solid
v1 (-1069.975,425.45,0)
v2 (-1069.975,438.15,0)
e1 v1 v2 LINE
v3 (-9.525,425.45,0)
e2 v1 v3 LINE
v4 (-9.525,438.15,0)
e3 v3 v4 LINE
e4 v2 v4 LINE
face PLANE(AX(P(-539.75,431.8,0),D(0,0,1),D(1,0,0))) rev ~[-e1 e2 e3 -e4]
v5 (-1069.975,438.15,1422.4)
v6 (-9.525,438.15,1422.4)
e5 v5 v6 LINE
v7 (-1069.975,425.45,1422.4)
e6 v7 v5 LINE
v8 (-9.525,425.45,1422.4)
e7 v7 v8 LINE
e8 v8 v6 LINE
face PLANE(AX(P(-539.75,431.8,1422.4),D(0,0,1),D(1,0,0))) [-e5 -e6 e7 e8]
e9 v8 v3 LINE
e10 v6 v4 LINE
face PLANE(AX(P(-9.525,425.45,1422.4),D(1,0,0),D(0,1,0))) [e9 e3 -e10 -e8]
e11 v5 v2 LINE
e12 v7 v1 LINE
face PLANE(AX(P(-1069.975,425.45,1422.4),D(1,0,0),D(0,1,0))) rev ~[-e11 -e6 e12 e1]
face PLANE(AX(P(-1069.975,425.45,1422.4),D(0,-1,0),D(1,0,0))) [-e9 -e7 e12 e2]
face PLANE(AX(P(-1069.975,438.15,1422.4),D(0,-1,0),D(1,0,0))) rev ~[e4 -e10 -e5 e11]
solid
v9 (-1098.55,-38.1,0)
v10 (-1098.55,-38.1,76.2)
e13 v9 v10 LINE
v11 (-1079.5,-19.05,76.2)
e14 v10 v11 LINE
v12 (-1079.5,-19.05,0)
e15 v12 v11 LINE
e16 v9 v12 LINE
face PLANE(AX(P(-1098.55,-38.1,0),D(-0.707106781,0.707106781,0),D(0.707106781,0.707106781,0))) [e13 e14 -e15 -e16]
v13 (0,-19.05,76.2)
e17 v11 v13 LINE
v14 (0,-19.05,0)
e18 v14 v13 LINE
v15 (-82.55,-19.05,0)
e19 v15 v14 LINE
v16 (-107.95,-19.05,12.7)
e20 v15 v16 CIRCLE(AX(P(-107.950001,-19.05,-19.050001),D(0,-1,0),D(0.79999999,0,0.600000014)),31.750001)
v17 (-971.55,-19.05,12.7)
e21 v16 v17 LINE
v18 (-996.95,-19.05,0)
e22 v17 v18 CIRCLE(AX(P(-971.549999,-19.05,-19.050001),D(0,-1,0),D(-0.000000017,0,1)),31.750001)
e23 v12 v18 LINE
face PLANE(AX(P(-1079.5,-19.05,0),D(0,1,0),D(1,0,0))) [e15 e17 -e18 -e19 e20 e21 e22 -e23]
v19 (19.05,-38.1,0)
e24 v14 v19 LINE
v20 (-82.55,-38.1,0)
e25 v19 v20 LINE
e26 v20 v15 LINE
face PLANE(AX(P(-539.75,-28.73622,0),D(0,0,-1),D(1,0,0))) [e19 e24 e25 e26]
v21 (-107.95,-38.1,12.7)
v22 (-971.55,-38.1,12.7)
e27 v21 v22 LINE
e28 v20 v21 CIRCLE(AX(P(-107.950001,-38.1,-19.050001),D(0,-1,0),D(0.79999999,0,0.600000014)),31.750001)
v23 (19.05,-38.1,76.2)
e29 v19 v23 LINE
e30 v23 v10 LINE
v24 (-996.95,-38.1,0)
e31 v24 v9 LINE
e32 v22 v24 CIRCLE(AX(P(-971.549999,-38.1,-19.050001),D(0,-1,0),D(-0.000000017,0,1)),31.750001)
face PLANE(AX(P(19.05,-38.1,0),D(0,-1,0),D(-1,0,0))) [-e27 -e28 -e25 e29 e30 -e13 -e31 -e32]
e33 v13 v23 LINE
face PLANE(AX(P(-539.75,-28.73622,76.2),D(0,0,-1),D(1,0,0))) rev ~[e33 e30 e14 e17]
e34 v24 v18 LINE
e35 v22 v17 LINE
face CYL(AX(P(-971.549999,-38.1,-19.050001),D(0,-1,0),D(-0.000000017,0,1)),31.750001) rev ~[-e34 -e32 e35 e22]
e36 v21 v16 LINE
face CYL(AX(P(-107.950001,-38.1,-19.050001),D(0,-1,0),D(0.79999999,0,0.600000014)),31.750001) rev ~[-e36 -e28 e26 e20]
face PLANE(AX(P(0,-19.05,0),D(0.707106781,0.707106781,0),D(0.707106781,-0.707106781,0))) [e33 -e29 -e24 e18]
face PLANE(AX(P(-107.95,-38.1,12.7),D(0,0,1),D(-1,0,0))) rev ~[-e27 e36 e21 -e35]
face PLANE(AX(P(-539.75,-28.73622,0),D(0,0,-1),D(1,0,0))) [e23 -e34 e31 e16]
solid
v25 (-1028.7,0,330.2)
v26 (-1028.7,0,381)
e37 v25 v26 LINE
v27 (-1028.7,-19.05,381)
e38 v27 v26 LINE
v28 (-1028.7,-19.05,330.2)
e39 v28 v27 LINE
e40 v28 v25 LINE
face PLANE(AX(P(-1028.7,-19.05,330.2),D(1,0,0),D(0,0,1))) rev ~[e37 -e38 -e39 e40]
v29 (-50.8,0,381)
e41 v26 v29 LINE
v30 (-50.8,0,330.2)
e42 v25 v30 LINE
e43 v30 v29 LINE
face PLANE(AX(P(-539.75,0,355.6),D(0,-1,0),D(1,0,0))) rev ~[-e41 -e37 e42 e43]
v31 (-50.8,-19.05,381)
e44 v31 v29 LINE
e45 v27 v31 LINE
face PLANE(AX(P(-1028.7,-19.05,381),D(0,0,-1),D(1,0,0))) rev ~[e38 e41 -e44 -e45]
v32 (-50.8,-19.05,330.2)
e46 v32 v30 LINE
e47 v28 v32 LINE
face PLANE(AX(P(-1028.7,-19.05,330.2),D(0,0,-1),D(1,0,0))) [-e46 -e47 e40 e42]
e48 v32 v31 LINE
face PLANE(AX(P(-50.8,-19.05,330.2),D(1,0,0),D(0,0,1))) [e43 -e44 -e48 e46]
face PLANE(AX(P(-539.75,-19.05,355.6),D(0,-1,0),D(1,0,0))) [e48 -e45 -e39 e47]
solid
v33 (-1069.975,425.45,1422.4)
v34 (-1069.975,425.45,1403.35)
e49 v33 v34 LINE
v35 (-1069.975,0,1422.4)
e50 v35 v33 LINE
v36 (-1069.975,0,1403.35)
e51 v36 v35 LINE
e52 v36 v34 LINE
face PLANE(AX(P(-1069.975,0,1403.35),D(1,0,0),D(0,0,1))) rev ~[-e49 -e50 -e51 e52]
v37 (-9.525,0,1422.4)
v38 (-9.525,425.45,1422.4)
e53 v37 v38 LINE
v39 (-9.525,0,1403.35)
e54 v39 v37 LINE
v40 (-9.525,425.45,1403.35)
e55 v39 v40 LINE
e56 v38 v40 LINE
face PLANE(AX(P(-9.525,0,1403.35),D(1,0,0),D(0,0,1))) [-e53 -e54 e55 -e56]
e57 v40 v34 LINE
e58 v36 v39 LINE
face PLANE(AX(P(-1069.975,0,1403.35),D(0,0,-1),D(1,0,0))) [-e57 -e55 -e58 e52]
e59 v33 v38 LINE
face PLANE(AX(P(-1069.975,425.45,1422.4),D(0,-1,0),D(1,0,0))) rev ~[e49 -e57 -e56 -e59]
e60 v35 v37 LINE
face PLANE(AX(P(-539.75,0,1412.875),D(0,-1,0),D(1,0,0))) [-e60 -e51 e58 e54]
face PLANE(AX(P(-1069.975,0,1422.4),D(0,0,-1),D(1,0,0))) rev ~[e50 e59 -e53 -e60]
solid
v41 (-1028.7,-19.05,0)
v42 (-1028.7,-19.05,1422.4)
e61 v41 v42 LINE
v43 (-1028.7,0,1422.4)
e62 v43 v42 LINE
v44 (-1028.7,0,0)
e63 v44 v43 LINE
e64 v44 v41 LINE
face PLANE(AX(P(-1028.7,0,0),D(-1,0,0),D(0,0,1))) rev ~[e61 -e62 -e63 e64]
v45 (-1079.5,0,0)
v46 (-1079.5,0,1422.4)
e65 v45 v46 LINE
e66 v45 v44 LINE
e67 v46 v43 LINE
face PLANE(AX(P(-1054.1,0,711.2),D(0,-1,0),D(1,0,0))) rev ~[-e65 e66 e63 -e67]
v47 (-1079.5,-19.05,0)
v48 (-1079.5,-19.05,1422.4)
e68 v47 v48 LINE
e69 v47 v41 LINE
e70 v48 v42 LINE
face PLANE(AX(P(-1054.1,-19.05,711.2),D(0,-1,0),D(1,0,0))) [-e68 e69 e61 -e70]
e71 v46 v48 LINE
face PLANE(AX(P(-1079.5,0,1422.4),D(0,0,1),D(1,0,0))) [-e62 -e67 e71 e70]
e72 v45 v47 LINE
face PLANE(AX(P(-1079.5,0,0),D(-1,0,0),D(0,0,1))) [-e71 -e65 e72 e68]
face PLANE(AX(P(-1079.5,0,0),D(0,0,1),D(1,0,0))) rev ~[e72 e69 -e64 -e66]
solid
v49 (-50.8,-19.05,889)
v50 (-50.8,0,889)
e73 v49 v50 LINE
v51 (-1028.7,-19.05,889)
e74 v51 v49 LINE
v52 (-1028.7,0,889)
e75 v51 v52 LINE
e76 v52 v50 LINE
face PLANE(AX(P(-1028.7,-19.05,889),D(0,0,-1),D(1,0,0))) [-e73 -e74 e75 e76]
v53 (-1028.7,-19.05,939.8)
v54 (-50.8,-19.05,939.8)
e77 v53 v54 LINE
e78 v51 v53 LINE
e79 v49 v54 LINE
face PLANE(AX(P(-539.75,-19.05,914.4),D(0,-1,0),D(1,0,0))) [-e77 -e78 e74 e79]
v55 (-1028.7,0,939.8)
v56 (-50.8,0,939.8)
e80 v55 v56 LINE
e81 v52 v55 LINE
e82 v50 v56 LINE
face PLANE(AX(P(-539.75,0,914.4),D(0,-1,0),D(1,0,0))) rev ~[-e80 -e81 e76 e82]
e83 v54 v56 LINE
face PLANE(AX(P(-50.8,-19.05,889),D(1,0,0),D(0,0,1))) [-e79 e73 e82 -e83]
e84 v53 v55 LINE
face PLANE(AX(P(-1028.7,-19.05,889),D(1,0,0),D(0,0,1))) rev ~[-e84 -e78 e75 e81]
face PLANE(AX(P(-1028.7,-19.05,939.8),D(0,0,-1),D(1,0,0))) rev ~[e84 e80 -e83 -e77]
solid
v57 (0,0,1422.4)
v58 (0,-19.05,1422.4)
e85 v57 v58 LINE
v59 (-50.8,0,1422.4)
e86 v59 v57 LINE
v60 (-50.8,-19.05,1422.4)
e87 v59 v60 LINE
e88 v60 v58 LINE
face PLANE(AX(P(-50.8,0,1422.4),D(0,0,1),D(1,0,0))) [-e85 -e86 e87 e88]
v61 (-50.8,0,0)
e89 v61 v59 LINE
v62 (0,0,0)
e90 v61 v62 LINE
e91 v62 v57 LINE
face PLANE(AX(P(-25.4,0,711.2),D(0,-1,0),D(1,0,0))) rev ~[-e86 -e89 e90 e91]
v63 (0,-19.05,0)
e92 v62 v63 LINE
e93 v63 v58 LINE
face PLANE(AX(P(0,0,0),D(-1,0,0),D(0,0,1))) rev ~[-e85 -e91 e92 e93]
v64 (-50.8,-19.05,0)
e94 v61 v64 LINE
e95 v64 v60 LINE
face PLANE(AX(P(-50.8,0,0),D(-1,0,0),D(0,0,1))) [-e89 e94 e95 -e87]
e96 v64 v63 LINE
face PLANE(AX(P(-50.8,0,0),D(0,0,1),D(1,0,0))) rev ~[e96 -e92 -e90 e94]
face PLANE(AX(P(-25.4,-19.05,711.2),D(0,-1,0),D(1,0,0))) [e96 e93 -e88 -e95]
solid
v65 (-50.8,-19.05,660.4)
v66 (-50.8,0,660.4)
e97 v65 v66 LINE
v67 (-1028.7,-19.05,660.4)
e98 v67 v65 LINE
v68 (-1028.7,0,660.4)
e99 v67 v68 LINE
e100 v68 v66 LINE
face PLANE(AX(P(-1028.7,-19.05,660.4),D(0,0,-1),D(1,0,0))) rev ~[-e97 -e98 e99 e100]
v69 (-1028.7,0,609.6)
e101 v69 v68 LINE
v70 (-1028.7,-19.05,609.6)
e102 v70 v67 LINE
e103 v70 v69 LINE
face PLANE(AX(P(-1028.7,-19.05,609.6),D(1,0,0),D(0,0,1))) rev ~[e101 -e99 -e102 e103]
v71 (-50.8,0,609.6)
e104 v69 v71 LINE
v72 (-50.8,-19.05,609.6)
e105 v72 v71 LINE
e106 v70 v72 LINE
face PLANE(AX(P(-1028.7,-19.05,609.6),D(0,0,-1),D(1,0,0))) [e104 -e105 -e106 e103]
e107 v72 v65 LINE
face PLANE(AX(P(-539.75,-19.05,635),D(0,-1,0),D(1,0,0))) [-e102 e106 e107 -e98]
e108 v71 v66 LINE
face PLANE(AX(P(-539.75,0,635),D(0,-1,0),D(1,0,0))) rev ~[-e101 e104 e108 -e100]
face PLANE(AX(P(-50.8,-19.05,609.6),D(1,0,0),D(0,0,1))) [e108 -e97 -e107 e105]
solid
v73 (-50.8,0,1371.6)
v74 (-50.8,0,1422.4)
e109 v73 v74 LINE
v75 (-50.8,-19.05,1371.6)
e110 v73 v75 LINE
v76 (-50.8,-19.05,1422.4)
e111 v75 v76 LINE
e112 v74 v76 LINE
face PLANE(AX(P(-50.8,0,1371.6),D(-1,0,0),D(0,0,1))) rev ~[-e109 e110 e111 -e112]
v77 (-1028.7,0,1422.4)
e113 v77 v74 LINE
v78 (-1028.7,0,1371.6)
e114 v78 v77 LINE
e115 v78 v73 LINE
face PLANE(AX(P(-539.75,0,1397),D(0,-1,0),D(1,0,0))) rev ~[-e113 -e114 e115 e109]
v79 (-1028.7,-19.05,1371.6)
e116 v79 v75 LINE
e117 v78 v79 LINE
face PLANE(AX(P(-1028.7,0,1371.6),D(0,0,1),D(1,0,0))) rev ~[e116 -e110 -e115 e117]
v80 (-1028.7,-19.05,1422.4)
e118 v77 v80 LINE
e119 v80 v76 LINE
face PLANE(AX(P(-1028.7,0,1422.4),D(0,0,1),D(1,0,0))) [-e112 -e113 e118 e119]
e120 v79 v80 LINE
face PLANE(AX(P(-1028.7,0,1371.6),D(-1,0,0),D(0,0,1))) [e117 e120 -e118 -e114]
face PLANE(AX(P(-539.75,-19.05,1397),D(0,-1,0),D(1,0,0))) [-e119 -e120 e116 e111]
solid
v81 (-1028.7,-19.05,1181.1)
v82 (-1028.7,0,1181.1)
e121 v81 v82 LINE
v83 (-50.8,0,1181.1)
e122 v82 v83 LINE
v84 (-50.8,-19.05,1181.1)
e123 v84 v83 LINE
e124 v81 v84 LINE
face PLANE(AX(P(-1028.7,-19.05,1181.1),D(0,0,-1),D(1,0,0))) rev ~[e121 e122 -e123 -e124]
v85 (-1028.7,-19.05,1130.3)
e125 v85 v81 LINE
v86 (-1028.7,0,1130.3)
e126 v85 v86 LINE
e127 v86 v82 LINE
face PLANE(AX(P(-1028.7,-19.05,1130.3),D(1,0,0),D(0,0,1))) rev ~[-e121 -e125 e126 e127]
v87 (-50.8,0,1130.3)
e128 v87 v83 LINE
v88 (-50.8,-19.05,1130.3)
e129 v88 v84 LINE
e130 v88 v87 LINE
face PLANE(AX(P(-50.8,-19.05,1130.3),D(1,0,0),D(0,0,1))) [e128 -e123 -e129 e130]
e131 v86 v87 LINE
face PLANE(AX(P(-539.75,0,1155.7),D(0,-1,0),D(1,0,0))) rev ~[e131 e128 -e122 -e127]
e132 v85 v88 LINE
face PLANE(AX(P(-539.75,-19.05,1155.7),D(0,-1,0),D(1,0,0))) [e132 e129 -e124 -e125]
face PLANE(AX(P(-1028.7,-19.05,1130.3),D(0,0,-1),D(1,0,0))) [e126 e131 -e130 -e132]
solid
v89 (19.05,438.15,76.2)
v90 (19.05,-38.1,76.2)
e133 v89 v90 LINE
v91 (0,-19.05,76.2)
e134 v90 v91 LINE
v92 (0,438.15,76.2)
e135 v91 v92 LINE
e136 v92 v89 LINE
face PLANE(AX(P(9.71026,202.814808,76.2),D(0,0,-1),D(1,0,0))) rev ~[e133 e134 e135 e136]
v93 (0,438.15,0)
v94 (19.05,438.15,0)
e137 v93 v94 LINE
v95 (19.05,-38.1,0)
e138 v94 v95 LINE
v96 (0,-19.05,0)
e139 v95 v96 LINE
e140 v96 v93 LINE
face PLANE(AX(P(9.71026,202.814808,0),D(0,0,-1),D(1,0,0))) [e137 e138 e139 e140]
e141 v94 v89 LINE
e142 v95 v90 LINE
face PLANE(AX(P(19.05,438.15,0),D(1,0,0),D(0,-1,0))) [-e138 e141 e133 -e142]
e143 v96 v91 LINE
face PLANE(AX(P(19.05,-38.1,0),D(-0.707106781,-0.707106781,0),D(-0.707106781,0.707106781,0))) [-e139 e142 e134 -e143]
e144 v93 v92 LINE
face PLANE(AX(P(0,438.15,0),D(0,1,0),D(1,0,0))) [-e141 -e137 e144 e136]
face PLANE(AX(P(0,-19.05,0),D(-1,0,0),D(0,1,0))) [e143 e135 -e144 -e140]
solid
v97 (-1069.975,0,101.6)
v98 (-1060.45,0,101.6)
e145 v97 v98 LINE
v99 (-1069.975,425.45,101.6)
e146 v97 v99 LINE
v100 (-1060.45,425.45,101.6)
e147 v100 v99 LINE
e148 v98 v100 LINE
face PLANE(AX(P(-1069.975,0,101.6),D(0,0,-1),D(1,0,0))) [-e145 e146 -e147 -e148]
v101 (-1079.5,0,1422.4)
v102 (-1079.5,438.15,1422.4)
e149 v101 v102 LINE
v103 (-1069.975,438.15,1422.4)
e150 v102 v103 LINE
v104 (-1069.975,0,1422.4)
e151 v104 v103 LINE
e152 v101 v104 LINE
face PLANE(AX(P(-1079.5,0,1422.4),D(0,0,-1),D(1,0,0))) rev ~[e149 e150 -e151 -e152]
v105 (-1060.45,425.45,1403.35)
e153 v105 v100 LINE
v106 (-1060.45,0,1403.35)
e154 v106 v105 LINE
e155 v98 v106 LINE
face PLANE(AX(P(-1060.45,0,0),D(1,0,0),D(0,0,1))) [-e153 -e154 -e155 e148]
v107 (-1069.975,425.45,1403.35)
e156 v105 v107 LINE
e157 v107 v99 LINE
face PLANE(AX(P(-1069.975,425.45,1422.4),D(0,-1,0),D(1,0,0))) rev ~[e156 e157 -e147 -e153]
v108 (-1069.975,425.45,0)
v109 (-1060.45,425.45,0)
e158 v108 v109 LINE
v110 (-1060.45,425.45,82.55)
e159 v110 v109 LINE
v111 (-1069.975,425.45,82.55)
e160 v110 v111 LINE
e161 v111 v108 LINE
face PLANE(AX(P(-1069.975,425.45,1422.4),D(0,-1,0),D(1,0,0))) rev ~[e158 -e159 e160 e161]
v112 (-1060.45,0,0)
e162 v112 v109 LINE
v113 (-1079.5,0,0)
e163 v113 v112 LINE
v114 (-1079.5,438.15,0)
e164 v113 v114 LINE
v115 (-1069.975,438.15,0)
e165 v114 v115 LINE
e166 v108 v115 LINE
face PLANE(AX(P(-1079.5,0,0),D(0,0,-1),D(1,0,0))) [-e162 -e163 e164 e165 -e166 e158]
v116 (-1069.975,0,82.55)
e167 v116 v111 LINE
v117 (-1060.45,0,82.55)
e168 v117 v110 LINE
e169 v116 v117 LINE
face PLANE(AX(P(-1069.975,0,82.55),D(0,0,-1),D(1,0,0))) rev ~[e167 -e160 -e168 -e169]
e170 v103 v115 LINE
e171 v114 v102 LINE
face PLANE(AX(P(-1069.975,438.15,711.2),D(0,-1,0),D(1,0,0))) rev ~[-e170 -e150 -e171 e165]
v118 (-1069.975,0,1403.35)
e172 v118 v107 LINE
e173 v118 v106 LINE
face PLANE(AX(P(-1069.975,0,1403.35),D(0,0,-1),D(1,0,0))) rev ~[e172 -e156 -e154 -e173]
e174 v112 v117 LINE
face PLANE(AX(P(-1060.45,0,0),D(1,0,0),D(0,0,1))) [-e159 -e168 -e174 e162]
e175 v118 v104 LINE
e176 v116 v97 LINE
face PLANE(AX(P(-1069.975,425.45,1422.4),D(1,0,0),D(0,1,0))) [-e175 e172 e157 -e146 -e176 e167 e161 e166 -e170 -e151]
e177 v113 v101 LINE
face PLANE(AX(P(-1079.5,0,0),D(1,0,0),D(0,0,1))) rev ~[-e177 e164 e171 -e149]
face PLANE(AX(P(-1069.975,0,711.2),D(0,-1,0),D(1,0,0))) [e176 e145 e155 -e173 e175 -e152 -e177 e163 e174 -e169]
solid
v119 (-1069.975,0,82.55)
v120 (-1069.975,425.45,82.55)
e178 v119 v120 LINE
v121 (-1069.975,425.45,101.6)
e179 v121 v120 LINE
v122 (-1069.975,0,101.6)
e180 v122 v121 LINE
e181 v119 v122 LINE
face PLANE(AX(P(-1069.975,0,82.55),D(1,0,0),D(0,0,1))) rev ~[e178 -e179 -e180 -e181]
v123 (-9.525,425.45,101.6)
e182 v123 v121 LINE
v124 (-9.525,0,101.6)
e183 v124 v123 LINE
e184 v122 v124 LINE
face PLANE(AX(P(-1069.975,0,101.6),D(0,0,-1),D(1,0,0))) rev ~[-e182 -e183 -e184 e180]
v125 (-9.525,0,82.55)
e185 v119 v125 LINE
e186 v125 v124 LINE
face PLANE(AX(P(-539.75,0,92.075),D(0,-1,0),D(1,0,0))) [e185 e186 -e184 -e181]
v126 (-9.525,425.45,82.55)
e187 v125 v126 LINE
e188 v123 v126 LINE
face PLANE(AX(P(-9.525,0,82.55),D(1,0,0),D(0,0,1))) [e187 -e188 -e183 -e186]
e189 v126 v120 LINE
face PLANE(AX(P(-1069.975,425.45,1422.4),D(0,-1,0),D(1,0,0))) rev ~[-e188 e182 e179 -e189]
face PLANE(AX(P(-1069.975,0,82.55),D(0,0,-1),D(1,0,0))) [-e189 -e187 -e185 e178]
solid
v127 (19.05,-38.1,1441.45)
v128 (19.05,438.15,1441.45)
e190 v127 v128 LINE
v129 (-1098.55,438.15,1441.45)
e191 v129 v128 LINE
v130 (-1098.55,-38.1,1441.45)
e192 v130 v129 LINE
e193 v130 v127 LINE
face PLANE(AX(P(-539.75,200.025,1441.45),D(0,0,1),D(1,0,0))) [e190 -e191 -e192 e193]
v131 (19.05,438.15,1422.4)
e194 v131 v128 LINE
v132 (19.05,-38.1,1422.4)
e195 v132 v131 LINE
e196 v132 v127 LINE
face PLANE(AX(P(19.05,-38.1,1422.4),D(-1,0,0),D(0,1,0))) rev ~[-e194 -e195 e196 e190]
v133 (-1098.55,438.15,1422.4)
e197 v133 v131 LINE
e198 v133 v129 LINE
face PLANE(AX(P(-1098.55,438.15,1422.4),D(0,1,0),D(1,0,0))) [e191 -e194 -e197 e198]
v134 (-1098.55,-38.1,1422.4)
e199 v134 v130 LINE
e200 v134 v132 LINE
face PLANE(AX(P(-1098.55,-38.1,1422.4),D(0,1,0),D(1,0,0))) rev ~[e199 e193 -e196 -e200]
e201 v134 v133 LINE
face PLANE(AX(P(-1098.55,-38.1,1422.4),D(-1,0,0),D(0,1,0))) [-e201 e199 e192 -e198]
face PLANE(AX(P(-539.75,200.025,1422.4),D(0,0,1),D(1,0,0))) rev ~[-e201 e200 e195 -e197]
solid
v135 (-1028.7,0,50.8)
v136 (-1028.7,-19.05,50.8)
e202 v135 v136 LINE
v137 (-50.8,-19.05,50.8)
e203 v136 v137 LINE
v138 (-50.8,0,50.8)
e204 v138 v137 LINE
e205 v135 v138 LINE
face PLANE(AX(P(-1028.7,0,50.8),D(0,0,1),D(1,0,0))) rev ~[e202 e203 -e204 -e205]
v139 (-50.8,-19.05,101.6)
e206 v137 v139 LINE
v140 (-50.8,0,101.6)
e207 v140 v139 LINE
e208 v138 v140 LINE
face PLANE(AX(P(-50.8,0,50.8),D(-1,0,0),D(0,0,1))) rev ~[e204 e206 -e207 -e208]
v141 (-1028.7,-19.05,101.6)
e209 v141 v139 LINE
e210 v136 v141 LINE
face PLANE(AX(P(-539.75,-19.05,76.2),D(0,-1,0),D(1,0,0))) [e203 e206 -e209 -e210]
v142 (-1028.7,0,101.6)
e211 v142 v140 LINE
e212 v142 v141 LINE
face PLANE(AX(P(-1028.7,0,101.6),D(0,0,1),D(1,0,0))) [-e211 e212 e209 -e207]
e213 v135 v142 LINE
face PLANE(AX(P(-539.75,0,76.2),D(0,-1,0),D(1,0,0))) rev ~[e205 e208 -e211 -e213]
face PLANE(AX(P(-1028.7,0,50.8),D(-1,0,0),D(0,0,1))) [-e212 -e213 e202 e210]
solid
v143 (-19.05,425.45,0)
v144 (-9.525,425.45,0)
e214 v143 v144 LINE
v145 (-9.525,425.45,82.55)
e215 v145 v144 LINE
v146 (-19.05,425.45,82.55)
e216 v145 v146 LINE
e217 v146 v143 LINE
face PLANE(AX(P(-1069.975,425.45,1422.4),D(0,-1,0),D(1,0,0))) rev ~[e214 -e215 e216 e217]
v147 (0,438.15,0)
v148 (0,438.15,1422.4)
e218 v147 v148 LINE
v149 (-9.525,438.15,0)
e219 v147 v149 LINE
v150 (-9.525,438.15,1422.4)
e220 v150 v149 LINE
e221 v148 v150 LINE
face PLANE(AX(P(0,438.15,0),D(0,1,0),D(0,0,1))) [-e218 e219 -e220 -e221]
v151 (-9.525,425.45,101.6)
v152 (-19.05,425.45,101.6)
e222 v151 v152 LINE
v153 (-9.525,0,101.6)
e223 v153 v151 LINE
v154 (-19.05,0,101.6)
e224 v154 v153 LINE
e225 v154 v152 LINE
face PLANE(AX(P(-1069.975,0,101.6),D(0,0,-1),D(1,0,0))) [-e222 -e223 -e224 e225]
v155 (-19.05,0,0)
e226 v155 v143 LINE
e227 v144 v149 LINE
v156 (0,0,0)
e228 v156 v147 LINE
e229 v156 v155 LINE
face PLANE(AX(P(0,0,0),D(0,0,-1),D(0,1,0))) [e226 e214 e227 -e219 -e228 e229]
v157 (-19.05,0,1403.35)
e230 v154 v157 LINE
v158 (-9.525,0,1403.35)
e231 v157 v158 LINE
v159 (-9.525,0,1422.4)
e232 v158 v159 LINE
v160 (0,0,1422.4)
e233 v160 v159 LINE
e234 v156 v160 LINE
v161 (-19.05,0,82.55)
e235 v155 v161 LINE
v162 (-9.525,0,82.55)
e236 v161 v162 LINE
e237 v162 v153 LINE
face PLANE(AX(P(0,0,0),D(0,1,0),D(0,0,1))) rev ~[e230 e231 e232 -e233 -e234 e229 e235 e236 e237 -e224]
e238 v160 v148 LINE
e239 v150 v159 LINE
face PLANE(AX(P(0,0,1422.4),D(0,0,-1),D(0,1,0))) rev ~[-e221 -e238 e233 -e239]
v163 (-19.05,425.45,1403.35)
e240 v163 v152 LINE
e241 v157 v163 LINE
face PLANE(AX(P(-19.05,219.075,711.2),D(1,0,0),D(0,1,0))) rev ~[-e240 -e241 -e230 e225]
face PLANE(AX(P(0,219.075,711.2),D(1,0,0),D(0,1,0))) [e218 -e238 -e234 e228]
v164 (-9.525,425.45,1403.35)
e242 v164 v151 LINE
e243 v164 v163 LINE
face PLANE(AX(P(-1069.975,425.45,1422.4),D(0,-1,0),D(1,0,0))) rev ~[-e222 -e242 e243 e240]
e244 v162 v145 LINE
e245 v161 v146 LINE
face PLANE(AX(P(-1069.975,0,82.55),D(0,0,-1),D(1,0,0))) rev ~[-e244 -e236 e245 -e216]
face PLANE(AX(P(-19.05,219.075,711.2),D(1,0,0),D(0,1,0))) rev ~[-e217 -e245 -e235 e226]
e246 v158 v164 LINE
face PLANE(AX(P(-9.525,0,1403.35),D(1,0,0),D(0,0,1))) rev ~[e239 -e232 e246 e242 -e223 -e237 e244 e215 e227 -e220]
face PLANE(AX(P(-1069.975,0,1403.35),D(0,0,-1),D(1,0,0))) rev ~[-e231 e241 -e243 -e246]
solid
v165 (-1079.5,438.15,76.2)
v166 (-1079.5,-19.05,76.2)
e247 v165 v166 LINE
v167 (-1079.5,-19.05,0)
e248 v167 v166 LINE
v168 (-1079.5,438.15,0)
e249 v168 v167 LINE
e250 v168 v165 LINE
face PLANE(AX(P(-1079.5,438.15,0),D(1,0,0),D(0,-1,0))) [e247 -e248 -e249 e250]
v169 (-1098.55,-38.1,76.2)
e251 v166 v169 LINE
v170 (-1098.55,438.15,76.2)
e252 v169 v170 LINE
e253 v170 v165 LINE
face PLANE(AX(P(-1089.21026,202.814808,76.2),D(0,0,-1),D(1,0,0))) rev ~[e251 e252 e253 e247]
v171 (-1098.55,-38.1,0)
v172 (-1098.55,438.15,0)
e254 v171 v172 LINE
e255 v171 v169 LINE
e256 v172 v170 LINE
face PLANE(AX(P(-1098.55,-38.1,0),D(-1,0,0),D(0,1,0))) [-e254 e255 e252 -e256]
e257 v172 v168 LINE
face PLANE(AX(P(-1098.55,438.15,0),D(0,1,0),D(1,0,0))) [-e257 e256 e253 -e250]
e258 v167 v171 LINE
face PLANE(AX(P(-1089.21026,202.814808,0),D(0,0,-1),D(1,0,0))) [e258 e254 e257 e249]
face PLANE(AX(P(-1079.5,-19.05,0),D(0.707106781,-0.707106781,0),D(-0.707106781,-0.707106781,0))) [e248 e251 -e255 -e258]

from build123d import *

# Parameters (mm, degrees)
F0_W      = 438.15
F0_H      = 1422.4
F1_DEPTH  = 19.05
F2_W      = 1060.45
F2_H      = 19.05
F3_DEPTH  = 438.15
F5_W      = 19.05
F5_H      = 1422.4
F6_DEPTH  = 438.15
F8_W      = 1060.45
F8_H      = 19.05
F9_DEPTH  = 438.15
F11_W     = 1060.45
F11_H     = 12.7
F12_DEPTH = 1422.4
F14_W     = 50.8
F14_H     = 1422.4
F15_DEPTH = 19.05
F16_W     = 50.8
F16_H     = 1422.4
F17_DEPTH = 19.05
F18_W     = 977.9
F18_H     = 50.8
F19_DEPTH = 19.05
F20_W     = 977.9
F20_H     = 50.8
F21_DEPTH = 19.05
F22_W     = 977.9
F22_H     = 50.8
F23_DEPTH = 19.05
F24_W     = 977.9
F24_H     = 50.8
F25_DEPTH = 19.05
F26_W     = 977.9
F26_H     = 50.8
F27_DEPTH = 19.05
F28_W     = 977.9
F28_H     = 50.8
F29_DEPTH = 19.05
F30_W     = 1117.6
F30_H     = 476.25
F31_DEPTH = 19.05
F33_DEPTH = 76.2
F35_DEPTH = 76.2
F37_DEPTH = 76.2
F39_DEPTH = 19.05


with BuildPart() as f1:
    # F0 (on Right) → F1 (new body)
    with BuildSketch(Plane.YZ):
        with Locations((219.075, 711.2)):
            Rectangle(F0_W, F0_H)
    extrude(amount=-F1_DEPTH)


with BuildPart() as f3:
    # F2 (on face) → F3 (new body)
    with BuildSketch(Plane.XZ):
        with Locations((-539.75, 92.075)):
            Rectangle(F2_W, F2_H)
    extrude(amount=-F3_DEPTH)


with BuildPart() as f1_1:
    add(f1.part)

    # F4: cut F3
    add(f3.part, mode=Mode.SUBTRACT)


with BuildPart() as f6:
    # F5 (on face) → F6 (new body)
    with BuildSketch(Plane.XZ):
        with Locations((-1069.975, 711.2)):
            Rectangle(F5_W, F5_H)
    extrude(amount=-F6_DEPTH)

    # F7: cut F3
    add(f3.part, mode=Mode.SUBTRACT)


with BuildPart() as f9:
    # F8 (on face) → F9 (new body)
    with BuildSketch(Plane.XZ):
        with Locations((-539.75, 1412.875)):
            Rectangle(F8_W, F8_H)
    extrude(amount=-F9_DEPTH)


with BuildPart() as f6_1:
    add(f6.part)

    # F10: cut F9
    add(f9.part, mode=Mode.SUBTRACT)


with BuildPart() as f1_2:
    add(f1_1.part)

    # F10: cut F9
    add(f9.part, mode=Mode.SUBTRACT)


with BuildPart() as f12:
    # F11 (on face) → F12 (new body)
    with BuildSketch(Plane.XY.offset(1422.4)):
        with Locations((-539.75, 431.8)):
            Rectangle(F11_W, F11_H)
    extrude(amount=-F12_DEPTH)


with BuildPart() as f6_2:
    add(f6_1.part)

    # F13: cut F12
    add(f12.part, mode=Mode.SUBTRACT)


with BuildPart() as f9_1:
    add(f9.part)

    # F13: cut F12
    add(f12.part, mode=Mode.SUBTRACT)


with BuildPart() as f1_3:
    add(f1_2.part)

    # F13: cut F12
    add(f12.part, mode=Mode.SUBTRACT)


with BuildPart() as f3_1:
    add(f3.part)

    # F13: cut F12
    add(f12.part, mode=Mode.SUBTRACT)


with BuildPart() as f15:
    # F14 (on face) → F15 (new body)
    with BuildSketch(Plane.XZ):
        with Locations((-1054.1, 711.2)):
            Rectangle(F14_W, F14_H)
    extrude(amount=F15_DEPTH)


with BuildPart() as f17:
    # F16 (on face) → F17 (new body)
    with BuildSketch(Plane.XZ):
        with Locations((-25.4, 711.2)):
            Rectangle(F16_W, F16_H)
    extrude(amount=F17_DEPTH)


with BuildPart() as f19:
    # F18 (on face) → F19 (new body)
    with BuildSketch(Plane.XZ):
        with Locations((-539.75, 76.2)):
            Rectangle(F18_W, F18_H)
    extrude(amount=F19_DEPTH)


with BuildPart() as f21:
    # F20 (on face) → F21 (new body)
    with BuildSketch(Plane.XZ):
        with Locations((-539.75, 1397)):
            Rectangle(F20_W, F20_H)
    extrude(amount=F21_DEPTH)


with BuildPart() as f23:
    # F22 (on face) → F23 (new body)
    with BuildSketch(Plane.XZ.offset(19.05)):
        with Locations((-539.75, 355.6)):
            Rectangle(F22_W, F22_H)
    extrude(amount=-F23_DEPTH)


with BuildPart() as f25:
    # F24 (on face) → F25 (new body)
    with BuildSketch(Plane.XZ.offset(19.05)):
        with Locations((-539.75, 635)):
            Rectangle(F24_W, F24_H)
    extrude(amount=-F25_DEPTH)


with BuildPart() as f27:
    # F26 (on face) → F27 (new body)
    with BuildSketch(Plane.XZ.offset(19.05)):
        with Locations((-539.75, 914.4)):
            Rectangle(F26_W, F26_H)
    extrude(amount=-F27_DEPTH)


with BuildPart() as f29:
    # F28 (on face) → F29 (new body)
    with BuildSketch(Plane.XZ.offset(19.05)):
        with Locations((-539.75, 1155.7)):
            Rectangle(F28_W, F28_H)
    extrude(amount=-F29_DEPTH)


with BuildPart() as f31:
    # F30 (on face) → F31 (new body)
    with BuildSketch(Plane.XY.offset(1422.4)):
        with Locations((-539.75, 200.025)):
            Rectangle(F30_W, F30_H)
    extrude(amount=F31_DEPTH)


with BuildPart() as f33:
    # F32 (on face) → F33 (new body)
    with BuildSketch(Plane(origin=(0, 0, 0), x_dir=(1, 0, 0), z_dir=(0, 0, -1))):
        Polygon((-1098.55, -438.15), (-1079.5, -438.15), (-1079.5, 19.05), (-1098.55, 38.1), align=None)
    extrude(amount=-F33_DEPTH)


with BuildPart() as f35:
    # F34 (on face) → F35 (new body)
    with BuildSketch(Plane(origin=(0, 0, 0), x_dir=(1, 0, 0), z_dir=(0, 0, -1))):
        Polygon((0, 19.05), (0, -438.15), (19.05, -438.15), (19.05, 38.1), align=None)
    extrude(amount=-F35_DEPTH)


with BuildPart() as f37:
    # F36 (on face) → F37 (new body)
    with BuildSketch(Plane(origin=(0, 0, 0), x_dir=(1, 0, 0), z_dir=(0, 0, -1))):
        Polygon((-1079.5, 19.05), (0, 19.05), (19.05, 38.1), (-1098.55, 38.1), align=None)
    extrude(amount=-F37_DEPTH)

    # F38 (on face) → F39 (cut)
    with BuildSketch(Plane.XZ.offset(38.1)):
        with BuildLine():
            Line((-107.95, 12.7), (-971.55, 12.7))
            ThreePointArc((-971.55, 12.7), (-985.749032, 9.348063), (-996.95, 0))
            Line((-996.95, 0), (-82.55, 0))
            ThreePointArc((-82.55, 0), (-93.750968, 9.348063), (-107.95, 12.7))
        make_face()
    extrude(amount=-F39_DEPTH, mode=Mode.SUBTRACT)


solid = Compound([f12.part, f6_2.part, f9_1.part, f1_3.part, f3_1.part, f15.part, f17.part, f19.part, f21.part, f23.part, f25.part, f27.part, f29.part, f31.part, f33.part, f35.part, f37.part])
